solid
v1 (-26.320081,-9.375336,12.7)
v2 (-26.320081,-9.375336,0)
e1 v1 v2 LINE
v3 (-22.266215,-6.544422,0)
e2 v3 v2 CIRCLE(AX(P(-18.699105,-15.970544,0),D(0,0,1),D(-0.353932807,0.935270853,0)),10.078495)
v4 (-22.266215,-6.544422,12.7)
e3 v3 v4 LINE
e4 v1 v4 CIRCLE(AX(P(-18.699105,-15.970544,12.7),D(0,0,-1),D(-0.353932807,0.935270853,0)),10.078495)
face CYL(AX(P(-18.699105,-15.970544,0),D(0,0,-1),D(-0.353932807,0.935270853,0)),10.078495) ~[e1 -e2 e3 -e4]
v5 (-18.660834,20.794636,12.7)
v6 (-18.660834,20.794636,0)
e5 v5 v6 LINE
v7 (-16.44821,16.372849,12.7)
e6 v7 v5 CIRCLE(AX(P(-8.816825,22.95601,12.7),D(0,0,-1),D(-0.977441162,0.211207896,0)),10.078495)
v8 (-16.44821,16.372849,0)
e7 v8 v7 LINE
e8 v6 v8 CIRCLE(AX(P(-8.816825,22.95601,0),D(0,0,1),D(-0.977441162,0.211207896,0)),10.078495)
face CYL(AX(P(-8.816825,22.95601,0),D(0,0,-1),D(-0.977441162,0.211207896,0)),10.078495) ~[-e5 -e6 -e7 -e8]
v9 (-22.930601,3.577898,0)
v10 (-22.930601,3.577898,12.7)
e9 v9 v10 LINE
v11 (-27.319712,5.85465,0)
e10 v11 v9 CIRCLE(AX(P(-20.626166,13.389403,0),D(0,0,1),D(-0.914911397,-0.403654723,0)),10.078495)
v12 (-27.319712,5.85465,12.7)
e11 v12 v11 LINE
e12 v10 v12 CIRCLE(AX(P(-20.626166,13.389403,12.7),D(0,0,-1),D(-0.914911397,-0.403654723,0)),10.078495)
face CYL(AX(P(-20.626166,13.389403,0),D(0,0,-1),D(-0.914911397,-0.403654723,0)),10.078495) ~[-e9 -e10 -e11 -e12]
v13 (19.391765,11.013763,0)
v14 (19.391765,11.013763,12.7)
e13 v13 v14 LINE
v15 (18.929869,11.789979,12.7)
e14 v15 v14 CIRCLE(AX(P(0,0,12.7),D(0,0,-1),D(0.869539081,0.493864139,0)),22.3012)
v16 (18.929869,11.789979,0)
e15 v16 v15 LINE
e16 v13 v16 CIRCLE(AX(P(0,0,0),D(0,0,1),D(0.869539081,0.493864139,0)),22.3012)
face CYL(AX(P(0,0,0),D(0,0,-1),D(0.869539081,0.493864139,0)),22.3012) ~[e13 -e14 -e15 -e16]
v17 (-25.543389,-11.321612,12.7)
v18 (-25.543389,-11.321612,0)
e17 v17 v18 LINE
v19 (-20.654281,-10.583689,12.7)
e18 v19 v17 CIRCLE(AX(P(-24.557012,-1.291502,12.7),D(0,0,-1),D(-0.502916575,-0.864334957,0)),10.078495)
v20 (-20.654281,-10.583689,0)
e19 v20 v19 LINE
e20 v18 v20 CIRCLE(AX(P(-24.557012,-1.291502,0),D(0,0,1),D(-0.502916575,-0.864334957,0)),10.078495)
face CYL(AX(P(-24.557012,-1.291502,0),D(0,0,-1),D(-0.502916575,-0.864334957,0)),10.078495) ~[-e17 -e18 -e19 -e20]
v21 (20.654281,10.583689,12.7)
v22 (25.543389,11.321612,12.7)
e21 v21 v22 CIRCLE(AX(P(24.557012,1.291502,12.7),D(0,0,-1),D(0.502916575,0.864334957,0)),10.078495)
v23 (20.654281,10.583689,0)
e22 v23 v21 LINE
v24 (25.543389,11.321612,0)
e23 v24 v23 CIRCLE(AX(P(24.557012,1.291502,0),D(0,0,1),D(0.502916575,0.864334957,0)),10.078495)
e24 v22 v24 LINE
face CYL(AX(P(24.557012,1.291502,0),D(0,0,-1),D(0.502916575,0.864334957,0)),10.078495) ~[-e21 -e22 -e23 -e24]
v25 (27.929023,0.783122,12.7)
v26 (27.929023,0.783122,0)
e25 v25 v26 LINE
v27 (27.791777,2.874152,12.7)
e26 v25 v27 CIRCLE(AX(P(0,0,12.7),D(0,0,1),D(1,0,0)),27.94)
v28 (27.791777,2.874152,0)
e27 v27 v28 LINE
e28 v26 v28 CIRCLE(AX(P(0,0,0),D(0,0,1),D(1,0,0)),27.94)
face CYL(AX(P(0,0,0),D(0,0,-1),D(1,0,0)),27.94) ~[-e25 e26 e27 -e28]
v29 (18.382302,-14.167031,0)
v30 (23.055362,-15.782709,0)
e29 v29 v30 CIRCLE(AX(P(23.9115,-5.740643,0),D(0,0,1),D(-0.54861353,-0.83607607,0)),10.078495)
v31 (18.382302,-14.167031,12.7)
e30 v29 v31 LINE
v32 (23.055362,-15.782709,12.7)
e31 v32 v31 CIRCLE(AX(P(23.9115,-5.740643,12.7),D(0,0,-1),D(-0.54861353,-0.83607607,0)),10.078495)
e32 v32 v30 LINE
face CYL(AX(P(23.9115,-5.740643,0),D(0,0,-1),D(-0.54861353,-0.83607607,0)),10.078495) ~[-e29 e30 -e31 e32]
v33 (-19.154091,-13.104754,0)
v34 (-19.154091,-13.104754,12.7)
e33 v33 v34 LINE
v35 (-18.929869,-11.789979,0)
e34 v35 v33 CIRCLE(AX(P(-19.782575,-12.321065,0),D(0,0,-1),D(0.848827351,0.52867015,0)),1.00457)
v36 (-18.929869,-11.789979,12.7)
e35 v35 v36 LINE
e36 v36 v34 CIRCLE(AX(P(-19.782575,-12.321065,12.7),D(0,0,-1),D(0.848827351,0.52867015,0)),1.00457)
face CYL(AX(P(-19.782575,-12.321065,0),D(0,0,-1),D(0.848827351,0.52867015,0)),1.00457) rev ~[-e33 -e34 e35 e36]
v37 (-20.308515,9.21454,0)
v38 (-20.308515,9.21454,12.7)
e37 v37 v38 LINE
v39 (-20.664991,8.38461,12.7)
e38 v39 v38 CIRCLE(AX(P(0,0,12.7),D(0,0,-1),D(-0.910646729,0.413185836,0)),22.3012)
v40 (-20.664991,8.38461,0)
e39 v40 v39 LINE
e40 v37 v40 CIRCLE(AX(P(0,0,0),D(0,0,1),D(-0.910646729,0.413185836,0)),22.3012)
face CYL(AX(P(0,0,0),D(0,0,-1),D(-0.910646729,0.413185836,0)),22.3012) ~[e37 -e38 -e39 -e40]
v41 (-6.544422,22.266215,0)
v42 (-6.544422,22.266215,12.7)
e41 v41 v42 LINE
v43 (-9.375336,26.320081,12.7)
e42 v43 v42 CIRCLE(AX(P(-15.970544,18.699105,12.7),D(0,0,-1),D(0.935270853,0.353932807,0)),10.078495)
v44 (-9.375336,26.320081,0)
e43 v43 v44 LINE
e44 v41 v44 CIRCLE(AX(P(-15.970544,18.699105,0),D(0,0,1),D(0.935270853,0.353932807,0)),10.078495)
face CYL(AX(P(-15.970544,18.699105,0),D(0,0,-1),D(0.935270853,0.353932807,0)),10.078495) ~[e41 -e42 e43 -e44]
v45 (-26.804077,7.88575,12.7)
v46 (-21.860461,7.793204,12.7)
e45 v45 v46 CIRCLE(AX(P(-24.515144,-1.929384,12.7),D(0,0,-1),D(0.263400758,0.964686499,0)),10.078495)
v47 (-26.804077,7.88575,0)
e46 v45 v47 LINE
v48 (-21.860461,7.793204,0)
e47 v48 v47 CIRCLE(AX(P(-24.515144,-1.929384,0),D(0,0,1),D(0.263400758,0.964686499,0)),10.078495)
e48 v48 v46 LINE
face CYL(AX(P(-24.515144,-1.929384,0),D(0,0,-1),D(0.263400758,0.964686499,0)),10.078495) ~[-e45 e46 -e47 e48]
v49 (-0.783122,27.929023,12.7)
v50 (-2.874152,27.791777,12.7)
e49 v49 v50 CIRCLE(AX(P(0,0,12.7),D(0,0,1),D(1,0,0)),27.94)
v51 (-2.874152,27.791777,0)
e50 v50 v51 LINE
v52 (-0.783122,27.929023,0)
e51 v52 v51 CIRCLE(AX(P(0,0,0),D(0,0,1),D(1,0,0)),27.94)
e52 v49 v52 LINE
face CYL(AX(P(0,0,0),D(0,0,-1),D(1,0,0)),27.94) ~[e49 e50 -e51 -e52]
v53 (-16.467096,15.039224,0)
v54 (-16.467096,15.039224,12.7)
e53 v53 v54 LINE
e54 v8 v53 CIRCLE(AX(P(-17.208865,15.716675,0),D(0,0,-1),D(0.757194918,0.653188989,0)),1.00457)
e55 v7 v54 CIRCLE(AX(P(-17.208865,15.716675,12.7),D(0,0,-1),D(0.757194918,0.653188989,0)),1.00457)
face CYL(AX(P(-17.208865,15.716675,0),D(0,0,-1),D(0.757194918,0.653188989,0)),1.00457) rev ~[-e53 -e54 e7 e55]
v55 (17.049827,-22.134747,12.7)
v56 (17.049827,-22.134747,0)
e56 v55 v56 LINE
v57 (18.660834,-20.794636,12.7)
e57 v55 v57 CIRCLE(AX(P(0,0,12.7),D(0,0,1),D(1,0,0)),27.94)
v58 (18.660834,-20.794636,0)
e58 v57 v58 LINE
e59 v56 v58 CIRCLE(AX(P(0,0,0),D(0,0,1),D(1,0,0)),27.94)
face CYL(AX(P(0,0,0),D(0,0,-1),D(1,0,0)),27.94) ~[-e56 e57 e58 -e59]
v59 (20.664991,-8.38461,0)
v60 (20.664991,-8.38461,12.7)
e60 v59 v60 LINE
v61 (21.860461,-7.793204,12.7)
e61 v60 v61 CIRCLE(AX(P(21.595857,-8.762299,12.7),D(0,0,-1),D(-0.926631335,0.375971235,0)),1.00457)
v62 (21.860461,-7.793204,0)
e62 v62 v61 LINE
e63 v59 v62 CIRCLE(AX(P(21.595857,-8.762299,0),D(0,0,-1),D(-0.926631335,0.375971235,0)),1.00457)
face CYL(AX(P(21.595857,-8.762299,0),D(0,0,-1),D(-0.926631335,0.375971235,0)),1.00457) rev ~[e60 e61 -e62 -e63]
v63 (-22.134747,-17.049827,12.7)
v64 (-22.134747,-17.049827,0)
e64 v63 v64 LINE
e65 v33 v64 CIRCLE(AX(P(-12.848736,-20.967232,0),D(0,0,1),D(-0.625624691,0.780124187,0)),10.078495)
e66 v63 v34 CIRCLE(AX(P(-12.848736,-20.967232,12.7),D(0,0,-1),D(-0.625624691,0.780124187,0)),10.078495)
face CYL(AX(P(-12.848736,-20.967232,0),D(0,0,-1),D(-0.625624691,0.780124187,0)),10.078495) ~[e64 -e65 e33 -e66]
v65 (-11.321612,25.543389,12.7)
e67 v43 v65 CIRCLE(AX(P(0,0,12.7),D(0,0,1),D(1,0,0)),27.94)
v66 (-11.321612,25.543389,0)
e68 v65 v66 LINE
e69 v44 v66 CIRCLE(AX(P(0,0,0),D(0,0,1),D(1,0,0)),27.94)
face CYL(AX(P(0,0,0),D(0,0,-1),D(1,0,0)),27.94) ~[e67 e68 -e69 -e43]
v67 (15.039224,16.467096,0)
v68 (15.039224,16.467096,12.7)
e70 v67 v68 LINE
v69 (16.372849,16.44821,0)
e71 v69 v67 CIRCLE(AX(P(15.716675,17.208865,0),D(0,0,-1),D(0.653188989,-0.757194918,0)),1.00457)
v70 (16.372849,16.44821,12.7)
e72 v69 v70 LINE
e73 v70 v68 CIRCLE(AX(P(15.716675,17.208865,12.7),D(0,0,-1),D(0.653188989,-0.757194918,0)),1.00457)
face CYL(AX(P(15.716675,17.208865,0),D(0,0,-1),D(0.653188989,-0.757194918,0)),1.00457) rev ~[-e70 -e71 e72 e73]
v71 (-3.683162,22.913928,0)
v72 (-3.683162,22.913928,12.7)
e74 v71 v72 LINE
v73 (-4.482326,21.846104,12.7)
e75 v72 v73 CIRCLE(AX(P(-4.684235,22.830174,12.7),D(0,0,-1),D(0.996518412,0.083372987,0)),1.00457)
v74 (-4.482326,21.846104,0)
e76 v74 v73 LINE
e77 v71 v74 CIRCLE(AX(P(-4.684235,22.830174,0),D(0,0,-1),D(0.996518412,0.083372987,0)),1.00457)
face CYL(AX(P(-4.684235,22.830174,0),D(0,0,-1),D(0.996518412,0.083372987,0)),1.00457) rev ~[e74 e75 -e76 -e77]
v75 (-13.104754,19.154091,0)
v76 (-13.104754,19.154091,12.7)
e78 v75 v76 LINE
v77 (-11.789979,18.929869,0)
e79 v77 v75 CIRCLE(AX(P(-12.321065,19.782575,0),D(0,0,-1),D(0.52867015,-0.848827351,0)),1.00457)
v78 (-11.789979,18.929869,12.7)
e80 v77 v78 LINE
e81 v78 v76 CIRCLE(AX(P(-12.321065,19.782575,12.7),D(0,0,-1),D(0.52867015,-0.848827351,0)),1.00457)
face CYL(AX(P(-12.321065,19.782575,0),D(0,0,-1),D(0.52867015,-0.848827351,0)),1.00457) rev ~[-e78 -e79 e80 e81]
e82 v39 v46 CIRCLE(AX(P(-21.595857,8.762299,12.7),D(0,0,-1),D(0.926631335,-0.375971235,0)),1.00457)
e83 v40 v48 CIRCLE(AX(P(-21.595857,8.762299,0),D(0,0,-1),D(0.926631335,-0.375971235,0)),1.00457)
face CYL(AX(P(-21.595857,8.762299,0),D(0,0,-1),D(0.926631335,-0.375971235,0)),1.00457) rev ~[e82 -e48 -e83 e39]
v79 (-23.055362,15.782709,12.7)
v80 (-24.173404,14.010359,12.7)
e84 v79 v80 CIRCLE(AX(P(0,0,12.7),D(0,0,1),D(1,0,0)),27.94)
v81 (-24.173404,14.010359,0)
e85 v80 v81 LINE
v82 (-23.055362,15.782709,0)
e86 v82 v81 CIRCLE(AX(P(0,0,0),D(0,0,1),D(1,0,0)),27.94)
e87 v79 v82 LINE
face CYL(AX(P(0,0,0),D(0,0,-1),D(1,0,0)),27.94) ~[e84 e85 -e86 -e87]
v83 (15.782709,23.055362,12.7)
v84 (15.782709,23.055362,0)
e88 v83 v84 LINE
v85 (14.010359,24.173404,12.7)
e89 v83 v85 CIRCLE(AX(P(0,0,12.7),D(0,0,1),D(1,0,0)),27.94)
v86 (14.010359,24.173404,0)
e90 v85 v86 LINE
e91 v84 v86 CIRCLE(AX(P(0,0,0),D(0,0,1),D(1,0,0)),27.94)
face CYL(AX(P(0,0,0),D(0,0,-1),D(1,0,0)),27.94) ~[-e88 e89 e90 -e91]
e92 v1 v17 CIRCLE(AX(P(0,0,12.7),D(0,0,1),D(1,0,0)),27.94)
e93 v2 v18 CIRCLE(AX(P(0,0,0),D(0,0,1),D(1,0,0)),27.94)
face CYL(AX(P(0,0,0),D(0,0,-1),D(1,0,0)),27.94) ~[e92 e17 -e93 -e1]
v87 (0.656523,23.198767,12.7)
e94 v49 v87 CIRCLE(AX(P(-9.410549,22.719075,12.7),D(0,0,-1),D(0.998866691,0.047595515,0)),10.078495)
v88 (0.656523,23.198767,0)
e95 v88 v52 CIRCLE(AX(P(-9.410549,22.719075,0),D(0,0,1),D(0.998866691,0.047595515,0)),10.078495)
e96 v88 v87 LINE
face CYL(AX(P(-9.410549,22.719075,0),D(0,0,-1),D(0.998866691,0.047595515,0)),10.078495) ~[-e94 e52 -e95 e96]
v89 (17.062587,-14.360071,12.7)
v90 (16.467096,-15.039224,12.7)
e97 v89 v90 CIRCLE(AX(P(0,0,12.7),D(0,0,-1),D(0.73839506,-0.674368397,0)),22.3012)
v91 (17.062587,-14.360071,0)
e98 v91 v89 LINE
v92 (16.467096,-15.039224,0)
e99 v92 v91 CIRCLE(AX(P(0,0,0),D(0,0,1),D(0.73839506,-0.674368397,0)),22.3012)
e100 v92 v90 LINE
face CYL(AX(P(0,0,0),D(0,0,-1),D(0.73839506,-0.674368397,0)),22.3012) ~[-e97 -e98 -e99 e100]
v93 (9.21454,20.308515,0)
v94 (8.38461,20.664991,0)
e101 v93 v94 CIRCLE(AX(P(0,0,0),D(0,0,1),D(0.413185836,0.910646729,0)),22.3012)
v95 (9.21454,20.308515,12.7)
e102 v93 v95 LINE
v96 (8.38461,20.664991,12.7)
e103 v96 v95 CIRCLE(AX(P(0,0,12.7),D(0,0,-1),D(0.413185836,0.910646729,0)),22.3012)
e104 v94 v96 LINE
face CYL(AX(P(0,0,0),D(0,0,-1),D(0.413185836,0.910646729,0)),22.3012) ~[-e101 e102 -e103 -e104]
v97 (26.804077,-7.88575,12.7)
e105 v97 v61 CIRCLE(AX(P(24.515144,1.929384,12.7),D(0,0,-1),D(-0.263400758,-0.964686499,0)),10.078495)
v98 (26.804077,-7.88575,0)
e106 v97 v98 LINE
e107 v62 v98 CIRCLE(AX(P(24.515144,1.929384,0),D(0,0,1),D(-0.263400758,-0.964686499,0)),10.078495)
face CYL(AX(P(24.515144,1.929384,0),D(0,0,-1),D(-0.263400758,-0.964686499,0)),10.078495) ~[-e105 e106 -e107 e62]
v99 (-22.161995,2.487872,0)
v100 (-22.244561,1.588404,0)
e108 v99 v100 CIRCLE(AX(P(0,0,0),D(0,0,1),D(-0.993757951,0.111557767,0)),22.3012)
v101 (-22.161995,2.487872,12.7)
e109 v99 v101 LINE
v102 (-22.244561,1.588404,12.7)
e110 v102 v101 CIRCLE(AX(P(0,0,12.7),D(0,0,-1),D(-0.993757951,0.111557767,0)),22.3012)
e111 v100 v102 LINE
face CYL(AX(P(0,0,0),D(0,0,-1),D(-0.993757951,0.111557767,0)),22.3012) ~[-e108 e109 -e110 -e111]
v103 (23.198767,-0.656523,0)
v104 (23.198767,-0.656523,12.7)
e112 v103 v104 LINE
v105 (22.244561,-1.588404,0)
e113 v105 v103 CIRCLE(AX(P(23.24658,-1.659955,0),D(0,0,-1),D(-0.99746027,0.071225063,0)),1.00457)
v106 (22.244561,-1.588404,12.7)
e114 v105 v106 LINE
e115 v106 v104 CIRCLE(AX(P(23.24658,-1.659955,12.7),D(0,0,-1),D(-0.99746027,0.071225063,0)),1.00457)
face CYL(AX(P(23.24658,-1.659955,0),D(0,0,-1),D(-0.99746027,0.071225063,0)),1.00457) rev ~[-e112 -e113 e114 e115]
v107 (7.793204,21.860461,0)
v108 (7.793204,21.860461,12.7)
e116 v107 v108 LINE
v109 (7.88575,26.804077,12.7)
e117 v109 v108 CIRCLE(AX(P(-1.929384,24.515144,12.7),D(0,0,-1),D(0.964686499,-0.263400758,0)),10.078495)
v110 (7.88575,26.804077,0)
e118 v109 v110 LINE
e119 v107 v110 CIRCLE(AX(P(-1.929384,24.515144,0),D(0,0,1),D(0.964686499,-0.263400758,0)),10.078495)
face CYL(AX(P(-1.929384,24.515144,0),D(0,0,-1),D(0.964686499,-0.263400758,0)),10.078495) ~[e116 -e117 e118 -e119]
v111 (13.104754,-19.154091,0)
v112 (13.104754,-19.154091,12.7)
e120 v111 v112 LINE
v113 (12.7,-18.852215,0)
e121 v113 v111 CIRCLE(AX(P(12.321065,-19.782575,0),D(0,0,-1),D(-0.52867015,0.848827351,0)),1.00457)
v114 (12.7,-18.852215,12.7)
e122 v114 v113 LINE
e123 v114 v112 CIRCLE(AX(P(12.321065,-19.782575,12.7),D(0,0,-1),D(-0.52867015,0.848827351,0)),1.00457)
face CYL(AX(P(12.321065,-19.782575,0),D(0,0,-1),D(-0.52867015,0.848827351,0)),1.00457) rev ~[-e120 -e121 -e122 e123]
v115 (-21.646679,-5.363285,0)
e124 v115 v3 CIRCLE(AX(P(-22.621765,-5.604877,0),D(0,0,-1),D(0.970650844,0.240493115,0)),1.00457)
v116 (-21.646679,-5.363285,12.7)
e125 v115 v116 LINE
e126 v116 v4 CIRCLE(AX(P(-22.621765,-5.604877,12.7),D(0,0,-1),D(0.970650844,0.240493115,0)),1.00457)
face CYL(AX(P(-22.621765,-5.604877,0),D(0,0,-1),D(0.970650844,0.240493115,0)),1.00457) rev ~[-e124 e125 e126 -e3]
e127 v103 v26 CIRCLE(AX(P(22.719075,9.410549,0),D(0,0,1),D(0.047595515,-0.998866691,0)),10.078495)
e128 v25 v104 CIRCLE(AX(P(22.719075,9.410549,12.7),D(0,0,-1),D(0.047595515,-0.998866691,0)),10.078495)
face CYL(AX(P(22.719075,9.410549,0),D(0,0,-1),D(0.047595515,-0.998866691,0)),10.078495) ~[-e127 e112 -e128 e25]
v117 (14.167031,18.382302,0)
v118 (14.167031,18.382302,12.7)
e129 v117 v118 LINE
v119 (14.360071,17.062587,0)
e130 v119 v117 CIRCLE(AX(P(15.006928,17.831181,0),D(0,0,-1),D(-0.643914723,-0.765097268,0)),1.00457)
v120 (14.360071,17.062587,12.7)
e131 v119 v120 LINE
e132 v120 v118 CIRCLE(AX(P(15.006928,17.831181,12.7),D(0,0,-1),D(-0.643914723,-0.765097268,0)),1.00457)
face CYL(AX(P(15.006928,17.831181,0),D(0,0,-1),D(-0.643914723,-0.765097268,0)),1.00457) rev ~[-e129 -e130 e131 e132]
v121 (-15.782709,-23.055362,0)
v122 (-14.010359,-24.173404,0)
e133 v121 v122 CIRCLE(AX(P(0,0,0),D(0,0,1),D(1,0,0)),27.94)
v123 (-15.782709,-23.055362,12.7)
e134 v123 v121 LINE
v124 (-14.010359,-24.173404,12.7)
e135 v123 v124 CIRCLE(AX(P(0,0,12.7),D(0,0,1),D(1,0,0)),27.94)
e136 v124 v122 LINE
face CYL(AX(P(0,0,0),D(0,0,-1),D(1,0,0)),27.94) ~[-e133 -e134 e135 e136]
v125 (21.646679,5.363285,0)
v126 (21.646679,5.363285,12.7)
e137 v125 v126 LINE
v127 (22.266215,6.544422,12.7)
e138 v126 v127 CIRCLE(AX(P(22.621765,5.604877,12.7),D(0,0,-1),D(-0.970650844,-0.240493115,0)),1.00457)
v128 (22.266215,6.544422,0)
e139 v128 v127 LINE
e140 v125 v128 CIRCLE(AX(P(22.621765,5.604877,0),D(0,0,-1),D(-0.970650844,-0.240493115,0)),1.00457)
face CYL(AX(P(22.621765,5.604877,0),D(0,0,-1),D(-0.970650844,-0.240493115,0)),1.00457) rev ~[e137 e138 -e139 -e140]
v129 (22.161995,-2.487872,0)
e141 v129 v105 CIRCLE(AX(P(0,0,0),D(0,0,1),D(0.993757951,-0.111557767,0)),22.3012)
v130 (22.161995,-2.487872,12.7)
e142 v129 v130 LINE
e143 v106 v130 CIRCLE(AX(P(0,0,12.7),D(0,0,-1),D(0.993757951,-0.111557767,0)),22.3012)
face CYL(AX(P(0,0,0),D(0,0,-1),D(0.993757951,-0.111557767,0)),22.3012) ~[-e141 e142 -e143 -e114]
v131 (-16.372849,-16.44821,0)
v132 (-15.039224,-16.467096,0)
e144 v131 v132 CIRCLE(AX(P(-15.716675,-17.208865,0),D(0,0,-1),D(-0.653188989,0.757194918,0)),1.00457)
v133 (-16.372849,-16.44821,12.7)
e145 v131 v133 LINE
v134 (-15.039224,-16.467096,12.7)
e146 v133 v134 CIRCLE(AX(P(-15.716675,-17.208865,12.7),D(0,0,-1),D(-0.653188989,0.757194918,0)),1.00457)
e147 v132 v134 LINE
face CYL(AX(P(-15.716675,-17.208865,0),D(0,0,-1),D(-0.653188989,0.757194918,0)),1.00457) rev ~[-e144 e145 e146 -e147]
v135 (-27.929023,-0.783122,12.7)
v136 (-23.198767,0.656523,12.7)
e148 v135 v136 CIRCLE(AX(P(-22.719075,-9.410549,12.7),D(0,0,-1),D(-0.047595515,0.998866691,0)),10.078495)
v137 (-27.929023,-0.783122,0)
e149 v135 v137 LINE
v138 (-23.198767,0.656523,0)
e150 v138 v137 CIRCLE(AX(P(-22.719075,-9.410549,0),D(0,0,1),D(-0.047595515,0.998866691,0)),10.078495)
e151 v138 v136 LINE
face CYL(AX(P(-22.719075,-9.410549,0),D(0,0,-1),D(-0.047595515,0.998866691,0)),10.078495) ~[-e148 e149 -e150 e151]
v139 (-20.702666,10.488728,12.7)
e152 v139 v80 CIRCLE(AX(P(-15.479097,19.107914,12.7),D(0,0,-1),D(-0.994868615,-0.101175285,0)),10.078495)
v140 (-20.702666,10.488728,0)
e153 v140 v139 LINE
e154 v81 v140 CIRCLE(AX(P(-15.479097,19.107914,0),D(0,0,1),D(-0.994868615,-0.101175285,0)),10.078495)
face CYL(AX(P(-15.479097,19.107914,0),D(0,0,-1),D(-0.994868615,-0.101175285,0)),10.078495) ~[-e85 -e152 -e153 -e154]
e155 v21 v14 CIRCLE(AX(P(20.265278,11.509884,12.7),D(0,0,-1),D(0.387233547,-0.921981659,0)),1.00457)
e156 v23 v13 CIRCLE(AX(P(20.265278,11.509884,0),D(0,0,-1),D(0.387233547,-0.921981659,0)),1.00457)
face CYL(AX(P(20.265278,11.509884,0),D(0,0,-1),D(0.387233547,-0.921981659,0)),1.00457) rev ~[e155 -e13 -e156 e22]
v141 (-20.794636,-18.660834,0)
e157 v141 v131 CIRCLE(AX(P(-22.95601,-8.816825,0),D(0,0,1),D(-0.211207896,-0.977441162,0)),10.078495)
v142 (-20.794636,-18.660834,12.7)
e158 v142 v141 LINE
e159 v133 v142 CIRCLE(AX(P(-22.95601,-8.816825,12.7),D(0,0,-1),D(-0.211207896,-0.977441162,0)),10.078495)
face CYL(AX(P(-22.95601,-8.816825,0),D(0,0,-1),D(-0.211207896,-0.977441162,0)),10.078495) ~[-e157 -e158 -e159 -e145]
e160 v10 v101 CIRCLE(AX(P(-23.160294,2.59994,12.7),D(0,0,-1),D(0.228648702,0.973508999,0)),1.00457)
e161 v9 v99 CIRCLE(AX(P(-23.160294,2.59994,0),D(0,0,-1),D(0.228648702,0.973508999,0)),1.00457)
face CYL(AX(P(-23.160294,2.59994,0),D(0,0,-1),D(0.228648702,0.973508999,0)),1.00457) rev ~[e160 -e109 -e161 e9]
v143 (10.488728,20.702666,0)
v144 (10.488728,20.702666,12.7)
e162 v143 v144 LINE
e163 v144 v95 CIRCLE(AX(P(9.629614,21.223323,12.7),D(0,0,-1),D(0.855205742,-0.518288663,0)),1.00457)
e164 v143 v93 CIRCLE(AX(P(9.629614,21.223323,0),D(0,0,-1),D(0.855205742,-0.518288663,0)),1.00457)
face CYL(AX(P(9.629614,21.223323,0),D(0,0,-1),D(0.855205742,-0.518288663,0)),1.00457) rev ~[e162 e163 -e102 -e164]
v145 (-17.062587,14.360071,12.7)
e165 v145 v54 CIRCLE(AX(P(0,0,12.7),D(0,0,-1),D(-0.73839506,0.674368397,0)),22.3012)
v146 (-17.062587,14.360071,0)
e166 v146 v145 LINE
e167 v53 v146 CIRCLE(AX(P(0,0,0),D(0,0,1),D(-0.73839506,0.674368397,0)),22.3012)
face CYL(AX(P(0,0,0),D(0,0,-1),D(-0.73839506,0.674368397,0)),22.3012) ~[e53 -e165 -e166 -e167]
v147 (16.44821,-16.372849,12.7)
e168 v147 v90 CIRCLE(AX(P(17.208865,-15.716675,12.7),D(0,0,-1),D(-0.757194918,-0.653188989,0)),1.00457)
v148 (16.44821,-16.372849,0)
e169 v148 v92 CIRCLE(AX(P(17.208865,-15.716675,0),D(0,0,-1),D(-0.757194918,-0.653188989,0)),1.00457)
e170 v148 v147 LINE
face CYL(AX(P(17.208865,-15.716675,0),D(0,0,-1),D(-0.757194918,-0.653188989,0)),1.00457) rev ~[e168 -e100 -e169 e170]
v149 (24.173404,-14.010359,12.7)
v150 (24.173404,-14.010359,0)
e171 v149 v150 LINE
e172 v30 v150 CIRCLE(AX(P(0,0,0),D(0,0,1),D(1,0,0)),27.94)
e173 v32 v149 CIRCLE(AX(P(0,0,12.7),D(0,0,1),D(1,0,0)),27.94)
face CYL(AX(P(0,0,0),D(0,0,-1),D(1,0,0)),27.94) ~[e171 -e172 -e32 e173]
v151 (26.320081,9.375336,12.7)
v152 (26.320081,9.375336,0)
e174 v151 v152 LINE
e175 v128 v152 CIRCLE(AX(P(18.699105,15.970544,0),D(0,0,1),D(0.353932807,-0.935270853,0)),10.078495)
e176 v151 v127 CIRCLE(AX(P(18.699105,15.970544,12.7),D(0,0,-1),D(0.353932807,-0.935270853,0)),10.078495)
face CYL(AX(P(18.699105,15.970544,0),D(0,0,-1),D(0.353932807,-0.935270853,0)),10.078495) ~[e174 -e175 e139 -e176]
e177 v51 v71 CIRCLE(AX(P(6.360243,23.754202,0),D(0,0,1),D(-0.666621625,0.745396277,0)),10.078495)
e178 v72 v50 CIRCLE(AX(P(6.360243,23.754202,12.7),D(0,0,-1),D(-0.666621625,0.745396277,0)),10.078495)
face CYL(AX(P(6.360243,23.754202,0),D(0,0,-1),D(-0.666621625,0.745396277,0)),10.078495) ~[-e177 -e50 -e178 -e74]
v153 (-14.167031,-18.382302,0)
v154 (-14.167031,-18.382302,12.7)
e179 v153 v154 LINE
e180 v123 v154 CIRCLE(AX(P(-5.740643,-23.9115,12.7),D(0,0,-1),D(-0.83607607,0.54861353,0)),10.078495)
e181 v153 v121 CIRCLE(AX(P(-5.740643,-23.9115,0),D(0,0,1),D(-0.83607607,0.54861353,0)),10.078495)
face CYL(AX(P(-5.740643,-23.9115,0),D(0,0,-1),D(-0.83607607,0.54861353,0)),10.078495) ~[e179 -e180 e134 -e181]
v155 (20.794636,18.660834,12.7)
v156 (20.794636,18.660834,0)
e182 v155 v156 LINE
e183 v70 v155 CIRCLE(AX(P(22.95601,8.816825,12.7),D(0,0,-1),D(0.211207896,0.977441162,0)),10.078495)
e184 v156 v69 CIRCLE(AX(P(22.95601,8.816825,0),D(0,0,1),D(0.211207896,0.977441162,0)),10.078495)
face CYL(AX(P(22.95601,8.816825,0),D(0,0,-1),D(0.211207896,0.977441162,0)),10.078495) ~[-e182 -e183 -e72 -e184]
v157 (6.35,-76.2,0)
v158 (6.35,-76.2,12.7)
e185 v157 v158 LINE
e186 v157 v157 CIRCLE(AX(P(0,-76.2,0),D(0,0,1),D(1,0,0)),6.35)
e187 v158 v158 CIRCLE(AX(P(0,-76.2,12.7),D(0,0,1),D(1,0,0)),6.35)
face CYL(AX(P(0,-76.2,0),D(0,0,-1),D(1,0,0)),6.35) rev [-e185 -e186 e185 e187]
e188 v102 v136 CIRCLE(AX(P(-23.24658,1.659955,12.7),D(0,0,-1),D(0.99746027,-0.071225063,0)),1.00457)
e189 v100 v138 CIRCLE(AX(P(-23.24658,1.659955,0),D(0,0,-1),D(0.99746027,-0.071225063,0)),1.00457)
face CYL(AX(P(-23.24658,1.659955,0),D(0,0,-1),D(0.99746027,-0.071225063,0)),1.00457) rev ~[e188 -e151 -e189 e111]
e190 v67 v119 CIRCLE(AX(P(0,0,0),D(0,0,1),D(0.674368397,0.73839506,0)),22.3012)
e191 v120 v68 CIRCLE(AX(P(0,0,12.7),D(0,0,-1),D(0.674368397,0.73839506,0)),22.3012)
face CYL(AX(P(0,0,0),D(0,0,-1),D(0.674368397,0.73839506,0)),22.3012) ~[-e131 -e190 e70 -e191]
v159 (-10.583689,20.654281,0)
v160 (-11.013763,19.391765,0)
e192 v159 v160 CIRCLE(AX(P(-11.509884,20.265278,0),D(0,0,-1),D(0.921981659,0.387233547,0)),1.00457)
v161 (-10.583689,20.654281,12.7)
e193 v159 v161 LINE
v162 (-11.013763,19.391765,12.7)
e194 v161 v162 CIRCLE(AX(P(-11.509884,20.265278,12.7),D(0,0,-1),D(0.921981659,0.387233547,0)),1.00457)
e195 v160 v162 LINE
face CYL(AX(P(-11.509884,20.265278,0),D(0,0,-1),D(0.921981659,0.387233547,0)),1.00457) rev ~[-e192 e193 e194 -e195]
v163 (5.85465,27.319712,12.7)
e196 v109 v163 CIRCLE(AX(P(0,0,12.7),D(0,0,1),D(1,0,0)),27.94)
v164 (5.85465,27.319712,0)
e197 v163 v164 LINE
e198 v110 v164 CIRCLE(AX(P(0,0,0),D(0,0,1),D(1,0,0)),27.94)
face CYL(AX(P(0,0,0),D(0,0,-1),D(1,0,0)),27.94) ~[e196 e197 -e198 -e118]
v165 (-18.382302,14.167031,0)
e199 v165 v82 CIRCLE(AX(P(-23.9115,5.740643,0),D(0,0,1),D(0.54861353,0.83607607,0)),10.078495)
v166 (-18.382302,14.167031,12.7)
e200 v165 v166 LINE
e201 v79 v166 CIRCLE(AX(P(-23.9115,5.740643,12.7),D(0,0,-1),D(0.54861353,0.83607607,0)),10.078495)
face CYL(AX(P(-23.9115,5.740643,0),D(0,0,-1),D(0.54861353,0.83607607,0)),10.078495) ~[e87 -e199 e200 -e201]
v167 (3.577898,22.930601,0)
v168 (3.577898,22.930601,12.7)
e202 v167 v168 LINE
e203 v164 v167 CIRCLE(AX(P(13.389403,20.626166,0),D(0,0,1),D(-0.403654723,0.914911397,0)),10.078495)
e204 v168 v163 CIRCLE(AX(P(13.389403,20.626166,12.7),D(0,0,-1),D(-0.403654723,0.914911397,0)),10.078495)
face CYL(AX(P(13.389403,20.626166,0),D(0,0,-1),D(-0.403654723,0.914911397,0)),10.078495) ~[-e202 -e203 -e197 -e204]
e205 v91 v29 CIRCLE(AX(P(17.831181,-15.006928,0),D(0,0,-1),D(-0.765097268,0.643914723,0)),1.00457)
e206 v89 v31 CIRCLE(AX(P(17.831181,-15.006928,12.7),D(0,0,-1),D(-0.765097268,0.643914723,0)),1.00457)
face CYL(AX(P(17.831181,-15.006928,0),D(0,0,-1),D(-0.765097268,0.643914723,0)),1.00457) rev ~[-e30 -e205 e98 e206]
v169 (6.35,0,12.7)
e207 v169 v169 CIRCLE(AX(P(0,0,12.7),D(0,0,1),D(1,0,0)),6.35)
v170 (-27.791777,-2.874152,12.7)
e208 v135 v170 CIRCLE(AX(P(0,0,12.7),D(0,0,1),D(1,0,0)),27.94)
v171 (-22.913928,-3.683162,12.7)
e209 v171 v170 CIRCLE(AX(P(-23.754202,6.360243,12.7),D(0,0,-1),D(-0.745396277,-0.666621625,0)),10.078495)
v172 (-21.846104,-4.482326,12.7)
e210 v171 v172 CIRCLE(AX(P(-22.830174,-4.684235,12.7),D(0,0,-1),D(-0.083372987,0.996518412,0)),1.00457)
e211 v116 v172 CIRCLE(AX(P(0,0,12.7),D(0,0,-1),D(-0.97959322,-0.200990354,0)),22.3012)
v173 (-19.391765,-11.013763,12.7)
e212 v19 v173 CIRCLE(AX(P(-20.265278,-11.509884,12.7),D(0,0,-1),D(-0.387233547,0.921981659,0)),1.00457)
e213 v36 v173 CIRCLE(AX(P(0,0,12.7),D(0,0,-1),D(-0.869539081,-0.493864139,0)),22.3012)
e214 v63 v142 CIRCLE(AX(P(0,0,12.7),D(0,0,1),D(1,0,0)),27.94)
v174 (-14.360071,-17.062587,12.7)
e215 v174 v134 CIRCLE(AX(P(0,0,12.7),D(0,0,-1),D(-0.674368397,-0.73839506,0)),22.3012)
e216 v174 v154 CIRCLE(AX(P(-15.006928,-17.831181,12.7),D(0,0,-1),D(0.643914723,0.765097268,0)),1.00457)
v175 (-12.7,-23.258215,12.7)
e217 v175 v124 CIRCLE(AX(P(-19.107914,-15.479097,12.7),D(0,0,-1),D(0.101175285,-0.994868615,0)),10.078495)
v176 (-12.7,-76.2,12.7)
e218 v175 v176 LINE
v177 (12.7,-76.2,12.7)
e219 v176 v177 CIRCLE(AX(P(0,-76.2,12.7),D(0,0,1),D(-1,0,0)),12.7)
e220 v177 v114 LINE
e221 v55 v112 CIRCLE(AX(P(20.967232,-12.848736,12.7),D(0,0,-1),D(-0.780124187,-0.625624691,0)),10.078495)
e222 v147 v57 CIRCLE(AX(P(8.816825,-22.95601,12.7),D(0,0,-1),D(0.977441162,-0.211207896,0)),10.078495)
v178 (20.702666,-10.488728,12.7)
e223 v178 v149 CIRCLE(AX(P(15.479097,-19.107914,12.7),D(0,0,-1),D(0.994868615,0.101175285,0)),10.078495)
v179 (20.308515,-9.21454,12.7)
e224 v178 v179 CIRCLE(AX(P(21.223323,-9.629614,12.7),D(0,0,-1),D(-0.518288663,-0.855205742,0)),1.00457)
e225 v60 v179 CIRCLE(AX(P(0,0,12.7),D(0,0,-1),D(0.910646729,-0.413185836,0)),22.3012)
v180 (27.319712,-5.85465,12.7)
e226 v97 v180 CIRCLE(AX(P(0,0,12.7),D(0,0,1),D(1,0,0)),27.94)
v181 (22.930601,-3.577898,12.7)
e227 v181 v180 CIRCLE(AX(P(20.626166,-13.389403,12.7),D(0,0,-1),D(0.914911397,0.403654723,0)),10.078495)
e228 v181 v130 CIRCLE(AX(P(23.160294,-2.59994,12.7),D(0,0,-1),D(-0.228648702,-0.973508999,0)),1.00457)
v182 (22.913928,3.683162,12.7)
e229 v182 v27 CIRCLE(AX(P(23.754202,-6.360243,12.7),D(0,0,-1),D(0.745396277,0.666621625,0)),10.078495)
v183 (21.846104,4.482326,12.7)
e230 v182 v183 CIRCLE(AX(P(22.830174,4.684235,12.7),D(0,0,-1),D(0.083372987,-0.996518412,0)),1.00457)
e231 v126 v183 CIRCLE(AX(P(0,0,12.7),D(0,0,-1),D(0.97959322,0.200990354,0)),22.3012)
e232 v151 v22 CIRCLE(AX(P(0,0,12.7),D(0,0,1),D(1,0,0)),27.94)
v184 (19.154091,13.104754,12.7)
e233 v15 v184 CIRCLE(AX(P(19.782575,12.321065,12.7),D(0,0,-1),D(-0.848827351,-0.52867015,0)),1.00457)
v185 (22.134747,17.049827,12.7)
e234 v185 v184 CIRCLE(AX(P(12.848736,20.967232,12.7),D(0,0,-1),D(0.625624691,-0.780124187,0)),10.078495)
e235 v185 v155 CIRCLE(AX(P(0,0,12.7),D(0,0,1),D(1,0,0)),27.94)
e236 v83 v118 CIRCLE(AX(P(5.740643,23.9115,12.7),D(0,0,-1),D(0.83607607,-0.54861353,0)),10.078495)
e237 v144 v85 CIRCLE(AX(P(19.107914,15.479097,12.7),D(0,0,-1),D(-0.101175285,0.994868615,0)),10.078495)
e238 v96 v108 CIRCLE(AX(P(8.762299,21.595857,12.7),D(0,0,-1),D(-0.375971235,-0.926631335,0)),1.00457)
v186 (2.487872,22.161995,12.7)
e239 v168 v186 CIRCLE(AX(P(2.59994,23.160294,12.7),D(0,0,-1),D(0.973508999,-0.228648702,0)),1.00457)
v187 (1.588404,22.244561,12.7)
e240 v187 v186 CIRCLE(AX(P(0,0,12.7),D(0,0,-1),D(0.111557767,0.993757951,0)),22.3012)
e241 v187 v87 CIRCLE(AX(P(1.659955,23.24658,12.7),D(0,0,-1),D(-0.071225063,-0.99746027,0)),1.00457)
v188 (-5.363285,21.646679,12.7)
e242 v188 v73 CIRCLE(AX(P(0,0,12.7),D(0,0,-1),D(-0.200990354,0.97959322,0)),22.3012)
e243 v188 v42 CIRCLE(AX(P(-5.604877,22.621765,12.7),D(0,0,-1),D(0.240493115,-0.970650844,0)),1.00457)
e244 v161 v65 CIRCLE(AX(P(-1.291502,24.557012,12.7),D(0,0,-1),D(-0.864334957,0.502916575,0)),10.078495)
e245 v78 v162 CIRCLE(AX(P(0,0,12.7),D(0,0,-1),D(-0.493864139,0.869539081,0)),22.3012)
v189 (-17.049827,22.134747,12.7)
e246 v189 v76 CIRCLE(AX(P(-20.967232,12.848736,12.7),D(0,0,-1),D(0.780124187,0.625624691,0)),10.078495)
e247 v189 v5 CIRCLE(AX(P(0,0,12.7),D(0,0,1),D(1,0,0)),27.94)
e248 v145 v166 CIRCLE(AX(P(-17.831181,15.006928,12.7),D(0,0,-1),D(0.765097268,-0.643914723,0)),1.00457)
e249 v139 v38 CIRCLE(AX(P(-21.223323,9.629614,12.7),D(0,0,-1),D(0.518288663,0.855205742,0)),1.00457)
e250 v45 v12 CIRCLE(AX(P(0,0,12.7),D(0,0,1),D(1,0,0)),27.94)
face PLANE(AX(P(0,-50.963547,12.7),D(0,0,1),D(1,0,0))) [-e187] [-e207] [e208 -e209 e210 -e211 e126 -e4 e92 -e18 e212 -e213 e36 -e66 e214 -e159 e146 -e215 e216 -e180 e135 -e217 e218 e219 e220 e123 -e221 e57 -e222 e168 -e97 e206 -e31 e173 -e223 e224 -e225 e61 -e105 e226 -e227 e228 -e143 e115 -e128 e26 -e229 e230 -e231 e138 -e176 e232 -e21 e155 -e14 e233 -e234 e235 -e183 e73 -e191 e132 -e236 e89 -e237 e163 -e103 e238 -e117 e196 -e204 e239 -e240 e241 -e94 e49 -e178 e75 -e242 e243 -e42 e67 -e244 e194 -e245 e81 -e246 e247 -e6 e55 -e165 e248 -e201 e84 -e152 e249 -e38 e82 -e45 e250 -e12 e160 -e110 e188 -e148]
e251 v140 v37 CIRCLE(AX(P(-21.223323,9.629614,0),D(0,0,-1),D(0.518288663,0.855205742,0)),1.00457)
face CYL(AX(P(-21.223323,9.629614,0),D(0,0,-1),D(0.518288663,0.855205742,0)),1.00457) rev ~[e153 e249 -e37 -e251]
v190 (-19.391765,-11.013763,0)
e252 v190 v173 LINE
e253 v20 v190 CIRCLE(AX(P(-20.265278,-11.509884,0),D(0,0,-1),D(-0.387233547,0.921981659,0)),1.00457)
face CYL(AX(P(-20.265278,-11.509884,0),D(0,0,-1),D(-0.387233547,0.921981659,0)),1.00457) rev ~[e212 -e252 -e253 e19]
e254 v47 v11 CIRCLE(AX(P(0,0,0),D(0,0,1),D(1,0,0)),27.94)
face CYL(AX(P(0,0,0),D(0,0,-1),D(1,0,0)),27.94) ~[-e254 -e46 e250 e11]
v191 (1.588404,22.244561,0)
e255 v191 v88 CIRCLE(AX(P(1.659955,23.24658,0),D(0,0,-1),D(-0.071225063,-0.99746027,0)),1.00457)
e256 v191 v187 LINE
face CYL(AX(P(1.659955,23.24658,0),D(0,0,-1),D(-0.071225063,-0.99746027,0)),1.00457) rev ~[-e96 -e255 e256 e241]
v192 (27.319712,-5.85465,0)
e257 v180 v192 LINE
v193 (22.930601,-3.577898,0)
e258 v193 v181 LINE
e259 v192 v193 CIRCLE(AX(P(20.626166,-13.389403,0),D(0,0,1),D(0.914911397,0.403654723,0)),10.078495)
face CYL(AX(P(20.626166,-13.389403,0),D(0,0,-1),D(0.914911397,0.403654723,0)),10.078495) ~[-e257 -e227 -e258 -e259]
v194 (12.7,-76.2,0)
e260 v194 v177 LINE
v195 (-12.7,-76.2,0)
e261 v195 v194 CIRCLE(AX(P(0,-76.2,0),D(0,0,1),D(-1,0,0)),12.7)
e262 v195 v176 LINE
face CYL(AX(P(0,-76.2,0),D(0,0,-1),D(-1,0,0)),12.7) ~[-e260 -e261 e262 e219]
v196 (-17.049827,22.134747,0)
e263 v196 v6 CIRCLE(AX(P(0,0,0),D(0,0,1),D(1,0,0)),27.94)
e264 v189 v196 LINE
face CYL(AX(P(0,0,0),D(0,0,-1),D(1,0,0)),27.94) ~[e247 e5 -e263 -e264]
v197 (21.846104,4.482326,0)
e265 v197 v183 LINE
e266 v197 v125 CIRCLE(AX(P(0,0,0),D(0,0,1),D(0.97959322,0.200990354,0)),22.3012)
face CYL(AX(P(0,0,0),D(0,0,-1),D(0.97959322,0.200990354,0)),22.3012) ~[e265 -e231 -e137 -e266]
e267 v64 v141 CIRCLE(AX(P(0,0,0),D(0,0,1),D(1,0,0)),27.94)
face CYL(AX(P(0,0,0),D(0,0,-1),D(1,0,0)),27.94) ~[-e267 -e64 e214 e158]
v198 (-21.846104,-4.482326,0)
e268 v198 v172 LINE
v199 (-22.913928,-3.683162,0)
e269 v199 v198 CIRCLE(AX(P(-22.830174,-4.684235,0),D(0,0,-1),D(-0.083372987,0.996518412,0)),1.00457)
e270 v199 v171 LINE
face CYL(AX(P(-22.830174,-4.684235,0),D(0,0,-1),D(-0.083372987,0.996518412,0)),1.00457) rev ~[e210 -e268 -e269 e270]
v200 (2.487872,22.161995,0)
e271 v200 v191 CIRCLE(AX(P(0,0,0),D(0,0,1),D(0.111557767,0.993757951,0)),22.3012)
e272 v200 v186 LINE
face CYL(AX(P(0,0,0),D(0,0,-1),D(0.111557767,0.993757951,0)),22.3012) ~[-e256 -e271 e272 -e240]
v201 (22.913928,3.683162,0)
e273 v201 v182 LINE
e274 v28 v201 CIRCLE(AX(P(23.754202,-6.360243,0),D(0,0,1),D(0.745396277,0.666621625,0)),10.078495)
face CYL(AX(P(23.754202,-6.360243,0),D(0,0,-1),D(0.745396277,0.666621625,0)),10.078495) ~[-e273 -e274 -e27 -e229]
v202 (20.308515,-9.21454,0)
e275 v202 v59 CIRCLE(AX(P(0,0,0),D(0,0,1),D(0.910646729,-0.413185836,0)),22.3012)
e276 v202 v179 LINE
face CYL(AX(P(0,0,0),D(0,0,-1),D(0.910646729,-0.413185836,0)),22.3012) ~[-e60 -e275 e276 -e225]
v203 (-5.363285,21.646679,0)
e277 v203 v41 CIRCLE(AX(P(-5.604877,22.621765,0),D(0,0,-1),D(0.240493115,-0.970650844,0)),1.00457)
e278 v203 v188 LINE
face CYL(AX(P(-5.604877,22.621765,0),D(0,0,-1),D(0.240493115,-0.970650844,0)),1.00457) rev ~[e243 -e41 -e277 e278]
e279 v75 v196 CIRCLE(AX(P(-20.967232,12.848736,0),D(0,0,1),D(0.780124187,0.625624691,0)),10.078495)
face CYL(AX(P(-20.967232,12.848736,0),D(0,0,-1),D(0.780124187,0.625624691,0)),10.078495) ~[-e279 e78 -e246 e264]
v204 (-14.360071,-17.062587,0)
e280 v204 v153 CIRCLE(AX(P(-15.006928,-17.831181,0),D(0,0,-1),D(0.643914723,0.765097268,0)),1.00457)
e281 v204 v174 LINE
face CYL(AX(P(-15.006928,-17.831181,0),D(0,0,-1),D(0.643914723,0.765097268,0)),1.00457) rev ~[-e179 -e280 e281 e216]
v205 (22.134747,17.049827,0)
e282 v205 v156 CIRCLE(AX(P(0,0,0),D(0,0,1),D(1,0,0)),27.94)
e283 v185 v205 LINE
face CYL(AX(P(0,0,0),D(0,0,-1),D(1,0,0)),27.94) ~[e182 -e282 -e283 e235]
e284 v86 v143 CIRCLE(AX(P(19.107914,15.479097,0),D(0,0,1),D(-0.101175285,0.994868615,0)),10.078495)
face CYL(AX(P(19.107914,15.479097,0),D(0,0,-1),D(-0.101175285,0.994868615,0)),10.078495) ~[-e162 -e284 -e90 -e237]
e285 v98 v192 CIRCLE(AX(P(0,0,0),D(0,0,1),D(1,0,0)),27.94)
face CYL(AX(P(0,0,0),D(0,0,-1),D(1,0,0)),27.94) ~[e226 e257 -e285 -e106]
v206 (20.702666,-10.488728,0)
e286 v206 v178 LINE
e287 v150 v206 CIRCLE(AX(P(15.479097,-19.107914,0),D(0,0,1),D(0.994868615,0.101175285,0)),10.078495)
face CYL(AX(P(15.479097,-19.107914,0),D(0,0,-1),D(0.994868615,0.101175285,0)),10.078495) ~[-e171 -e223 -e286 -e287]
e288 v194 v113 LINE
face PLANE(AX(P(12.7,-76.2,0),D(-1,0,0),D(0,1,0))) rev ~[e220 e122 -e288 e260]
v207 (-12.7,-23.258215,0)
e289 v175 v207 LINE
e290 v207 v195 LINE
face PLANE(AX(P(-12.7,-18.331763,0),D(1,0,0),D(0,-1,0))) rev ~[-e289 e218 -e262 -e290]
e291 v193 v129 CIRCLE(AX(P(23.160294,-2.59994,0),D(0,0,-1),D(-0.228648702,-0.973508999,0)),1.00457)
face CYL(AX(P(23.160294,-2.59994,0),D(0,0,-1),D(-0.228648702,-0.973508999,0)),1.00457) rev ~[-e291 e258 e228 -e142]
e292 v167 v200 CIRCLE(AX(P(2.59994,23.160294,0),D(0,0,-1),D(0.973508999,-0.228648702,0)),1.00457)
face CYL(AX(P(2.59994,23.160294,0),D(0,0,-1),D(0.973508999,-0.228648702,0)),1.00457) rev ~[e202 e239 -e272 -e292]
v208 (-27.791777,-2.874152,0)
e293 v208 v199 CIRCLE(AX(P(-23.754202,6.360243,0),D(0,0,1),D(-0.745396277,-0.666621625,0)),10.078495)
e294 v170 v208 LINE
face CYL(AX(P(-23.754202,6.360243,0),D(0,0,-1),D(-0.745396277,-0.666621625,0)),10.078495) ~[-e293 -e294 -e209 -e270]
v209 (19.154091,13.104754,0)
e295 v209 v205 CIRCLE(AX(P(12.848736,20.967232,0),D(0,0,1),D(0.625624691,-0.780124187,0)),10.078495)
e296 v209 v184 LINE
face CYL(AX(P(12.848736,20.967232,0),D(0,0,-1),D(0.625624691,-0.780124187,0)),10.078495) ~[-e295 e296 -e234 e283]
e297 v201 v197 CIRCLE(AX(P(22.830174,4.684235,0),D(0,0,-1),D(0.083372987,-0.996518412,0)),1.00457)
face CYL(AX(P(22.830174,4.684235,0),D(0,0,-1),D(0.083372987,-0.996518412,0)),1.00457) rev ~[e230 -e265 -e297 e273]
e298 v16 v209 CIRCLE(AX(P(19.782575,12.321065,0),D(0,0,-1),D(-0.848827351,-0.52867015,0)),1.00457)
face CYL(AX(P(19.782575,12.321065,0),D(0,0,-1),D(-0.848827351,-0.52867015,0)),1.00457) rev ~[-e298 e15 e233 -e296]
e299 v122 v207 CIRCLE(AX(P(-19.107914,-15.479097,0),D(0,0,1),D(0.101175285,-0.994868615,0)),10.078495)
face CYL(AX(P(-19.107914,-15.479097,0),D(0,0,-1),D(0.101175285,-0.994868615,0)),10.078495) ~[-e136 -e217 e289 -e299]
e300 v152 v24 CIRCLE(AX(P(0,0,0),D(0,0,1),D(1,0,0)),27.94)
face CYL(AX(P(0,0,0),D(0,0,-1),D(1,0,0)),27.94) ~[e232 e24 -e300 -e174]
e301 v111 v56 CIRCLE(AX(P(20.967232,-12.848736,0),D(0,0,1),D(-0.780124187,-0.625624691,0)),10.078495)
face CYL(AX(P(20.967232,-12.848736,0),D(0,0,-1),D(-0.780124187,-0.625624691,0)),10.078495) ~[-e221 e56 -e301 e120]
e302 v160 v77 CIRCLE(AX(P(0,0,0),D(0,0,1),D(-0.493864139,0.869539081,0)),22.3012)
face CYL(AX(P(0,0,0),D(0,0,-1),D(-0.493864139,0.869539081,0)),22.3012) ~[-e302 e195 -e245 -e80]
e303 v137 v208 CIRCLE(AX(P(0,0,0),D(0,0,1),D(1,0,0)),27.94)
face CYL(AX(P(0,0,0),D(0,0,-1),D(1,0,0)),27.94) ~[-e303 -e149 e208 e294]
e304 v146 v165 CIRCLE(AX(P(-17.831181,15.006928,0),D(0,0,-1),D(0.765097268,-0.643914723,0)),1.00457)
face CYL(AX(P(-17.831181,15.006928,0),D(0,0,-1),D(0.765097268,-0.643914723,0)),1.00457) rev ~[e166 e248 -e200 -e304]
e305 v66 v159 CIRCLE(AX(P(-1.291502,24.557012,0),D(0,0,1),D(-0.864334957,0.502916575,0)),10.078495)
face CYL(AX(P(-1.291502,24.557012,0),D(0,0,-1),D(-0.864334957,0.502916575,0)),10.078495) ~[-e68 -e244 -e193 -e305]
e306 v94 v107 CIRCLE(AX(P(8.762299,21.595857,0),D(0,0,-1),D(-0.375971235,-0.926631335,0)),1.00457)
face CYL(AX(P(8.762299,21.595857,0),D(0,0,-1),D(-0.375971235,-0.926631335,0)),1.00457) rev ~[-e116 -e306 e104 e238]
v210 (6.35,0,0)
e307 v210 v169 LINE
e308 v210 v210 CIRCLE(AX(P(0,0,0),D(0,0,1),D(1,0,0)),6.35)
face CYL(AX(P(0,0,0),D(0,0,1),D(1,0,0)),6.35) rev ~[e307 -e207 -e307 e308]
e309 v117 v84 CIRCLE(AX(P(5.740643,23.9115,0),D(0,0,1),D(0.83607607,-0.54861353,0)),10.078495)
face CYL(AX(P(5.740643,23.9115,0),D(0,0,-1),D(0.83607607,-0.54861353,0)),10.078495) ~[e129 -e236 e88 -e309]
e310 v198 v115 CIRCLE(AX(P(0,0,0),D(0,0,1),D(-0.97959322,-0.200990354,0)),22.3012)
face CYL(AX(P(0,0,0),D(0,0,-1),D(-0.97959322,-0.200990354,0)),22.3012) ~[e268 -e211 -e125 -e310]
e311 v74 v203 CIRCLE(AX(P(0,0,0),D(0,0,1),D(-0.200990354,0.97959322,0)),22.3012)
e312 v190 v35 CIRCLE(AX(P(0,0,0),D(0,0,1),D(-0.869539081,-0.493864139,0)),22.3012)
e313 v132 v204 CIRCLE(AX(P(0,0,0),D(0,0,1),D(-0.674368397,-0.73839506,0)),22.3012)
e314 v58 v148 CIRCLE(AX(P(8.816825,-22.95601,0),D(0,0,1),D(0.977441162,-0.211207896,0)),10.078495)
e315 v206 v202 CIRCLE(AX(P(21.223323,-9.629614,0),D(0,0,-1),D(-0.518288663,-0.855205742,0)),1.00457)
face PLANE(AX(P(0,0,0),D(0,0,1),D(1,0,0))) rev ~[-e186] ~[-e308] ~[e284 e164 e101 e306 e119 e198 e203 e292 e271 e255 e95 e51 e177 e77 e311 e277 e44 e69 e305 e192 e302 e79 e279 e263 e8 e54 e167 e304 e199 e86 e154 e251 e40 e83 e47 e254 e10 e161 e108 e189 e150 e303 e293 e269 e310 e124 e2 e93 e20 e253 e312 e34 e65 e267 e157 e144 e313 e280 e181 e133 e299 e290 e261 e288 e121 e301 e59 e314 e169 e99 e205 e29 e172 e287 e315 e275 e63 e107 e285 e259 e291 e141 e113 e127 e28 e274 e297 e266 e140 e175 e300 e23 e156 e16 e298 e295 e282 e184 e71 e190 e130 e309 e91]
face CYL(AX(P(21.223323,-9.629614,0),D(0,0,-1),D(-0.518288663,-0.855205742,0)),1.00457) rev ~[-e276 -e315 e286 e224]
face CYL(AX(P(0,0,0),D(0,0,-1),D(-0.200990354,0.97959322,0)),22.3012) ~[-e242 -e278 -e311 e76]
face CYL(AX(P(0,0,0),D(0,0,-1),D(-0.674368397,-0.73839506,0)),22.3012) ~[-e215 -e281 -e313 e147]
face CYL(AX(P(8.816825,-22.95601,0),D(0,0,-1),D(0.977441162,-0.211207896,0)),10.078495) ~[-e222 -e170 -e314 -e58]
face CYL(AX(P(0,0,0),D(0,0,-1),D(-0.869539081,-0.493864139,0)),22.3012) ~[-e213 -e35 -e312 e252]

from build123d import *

# Parameters (mm, degrees)
SKETCH3_R           = 27.94
GEARBODY_DEPTH      = 12.7
TOOTHCUT_DEPTH      = 13.7
CIRPATTERN1_COUNT   = 20
BOREDIA_R           = 6.35
BORE_DEPTH          = 12700
SKETCH4_R           = 6.35
BOSS_EXTRUDE1_DEPTH = 12.7


with BuildPart() as part:
    # Sketch3 → gearBody (new body)
    with BuildSketch(Plane.XY):
        Circle(SKETCH3_R)
    extrude(amount=GEARBODY_DEPTH)

    # Sketch2 → toothCut (cut, through all)
    with BuildSketch(Plane.XY):
        with BuildLine():
            ThreePointArc((22.161994813, -2.487872048), (22.207832173, -2.038556256), (22.244560977, -1.58840435))
            ThreePointArc((22.244560977, -1.58840435), (22.544698475, -0.941259068), (23.198766614, -0.656523398))
            ThreePointArc((23.198766614, -0.656523398), (27.638401864, 0.614170289), (31.045266607, 3.731588487))
            ThreePointArc((31.045266607, 3.731588487), (31.137815759, -2.858279396), (29.847095445, -9.321170787))
            ThreePointArc((29.847095445, -9.321170787), (27.064706273, -5.635613286), (22.930600611, -3.577897568))
            ThreePointArc((22.930600611, -3.577897568), (22.339300546, -3.17884398), (22.161994813, -2.487872048))
        make_face()
    toothcut = extrude(amount=TOOTHCUT_DEPTH, mode=Mode.SUBTRACT)

    # CirPattern1: toothCut ×20 about axis
    cirpattern1_axis = Axis((0, 0, 0), (0, 0, 1))
    for i in range(1, CIRPATTERN1_COUNT):
        add(toothcut.rotate(cirpattern1_axis, i * 360 / CIRPATTERN1_COUNT), mode=Mode.SUBTRACT)

    # boreDia → bore (cut, symmetric)
    with BuildSketch(Plane.XY):
        Circle(BOREDIA_R)
    extrude(amount=BORE_DEPTH, both=True, mode=Mode.SUBTRACT)

    # Sketch4 → Boss-Extrude1 (add)
    with BuildSketch(Plane.XY):
        with BuildLine():
            Line((-12.7, -18.331762639), (-12.7, -76.2))
            ThreePointArc((-12.7, -76.2), (0, -88.9), (12.7, -76.2))
            Line((12.7, -76.2), (12.7, -18.331762639))
            ThreePointArc((12.7, -18.331762639), (0, -22.3012), (-12.7, -18.331762639))
        make_face()
        with Locations((0, -76.2)):
            Circle(SKETCH4_R, mode=Mode.SUBTRACT)
    extrude(amount=BOSS_EXTRUDE1_DEPTH)


solid = part.part
